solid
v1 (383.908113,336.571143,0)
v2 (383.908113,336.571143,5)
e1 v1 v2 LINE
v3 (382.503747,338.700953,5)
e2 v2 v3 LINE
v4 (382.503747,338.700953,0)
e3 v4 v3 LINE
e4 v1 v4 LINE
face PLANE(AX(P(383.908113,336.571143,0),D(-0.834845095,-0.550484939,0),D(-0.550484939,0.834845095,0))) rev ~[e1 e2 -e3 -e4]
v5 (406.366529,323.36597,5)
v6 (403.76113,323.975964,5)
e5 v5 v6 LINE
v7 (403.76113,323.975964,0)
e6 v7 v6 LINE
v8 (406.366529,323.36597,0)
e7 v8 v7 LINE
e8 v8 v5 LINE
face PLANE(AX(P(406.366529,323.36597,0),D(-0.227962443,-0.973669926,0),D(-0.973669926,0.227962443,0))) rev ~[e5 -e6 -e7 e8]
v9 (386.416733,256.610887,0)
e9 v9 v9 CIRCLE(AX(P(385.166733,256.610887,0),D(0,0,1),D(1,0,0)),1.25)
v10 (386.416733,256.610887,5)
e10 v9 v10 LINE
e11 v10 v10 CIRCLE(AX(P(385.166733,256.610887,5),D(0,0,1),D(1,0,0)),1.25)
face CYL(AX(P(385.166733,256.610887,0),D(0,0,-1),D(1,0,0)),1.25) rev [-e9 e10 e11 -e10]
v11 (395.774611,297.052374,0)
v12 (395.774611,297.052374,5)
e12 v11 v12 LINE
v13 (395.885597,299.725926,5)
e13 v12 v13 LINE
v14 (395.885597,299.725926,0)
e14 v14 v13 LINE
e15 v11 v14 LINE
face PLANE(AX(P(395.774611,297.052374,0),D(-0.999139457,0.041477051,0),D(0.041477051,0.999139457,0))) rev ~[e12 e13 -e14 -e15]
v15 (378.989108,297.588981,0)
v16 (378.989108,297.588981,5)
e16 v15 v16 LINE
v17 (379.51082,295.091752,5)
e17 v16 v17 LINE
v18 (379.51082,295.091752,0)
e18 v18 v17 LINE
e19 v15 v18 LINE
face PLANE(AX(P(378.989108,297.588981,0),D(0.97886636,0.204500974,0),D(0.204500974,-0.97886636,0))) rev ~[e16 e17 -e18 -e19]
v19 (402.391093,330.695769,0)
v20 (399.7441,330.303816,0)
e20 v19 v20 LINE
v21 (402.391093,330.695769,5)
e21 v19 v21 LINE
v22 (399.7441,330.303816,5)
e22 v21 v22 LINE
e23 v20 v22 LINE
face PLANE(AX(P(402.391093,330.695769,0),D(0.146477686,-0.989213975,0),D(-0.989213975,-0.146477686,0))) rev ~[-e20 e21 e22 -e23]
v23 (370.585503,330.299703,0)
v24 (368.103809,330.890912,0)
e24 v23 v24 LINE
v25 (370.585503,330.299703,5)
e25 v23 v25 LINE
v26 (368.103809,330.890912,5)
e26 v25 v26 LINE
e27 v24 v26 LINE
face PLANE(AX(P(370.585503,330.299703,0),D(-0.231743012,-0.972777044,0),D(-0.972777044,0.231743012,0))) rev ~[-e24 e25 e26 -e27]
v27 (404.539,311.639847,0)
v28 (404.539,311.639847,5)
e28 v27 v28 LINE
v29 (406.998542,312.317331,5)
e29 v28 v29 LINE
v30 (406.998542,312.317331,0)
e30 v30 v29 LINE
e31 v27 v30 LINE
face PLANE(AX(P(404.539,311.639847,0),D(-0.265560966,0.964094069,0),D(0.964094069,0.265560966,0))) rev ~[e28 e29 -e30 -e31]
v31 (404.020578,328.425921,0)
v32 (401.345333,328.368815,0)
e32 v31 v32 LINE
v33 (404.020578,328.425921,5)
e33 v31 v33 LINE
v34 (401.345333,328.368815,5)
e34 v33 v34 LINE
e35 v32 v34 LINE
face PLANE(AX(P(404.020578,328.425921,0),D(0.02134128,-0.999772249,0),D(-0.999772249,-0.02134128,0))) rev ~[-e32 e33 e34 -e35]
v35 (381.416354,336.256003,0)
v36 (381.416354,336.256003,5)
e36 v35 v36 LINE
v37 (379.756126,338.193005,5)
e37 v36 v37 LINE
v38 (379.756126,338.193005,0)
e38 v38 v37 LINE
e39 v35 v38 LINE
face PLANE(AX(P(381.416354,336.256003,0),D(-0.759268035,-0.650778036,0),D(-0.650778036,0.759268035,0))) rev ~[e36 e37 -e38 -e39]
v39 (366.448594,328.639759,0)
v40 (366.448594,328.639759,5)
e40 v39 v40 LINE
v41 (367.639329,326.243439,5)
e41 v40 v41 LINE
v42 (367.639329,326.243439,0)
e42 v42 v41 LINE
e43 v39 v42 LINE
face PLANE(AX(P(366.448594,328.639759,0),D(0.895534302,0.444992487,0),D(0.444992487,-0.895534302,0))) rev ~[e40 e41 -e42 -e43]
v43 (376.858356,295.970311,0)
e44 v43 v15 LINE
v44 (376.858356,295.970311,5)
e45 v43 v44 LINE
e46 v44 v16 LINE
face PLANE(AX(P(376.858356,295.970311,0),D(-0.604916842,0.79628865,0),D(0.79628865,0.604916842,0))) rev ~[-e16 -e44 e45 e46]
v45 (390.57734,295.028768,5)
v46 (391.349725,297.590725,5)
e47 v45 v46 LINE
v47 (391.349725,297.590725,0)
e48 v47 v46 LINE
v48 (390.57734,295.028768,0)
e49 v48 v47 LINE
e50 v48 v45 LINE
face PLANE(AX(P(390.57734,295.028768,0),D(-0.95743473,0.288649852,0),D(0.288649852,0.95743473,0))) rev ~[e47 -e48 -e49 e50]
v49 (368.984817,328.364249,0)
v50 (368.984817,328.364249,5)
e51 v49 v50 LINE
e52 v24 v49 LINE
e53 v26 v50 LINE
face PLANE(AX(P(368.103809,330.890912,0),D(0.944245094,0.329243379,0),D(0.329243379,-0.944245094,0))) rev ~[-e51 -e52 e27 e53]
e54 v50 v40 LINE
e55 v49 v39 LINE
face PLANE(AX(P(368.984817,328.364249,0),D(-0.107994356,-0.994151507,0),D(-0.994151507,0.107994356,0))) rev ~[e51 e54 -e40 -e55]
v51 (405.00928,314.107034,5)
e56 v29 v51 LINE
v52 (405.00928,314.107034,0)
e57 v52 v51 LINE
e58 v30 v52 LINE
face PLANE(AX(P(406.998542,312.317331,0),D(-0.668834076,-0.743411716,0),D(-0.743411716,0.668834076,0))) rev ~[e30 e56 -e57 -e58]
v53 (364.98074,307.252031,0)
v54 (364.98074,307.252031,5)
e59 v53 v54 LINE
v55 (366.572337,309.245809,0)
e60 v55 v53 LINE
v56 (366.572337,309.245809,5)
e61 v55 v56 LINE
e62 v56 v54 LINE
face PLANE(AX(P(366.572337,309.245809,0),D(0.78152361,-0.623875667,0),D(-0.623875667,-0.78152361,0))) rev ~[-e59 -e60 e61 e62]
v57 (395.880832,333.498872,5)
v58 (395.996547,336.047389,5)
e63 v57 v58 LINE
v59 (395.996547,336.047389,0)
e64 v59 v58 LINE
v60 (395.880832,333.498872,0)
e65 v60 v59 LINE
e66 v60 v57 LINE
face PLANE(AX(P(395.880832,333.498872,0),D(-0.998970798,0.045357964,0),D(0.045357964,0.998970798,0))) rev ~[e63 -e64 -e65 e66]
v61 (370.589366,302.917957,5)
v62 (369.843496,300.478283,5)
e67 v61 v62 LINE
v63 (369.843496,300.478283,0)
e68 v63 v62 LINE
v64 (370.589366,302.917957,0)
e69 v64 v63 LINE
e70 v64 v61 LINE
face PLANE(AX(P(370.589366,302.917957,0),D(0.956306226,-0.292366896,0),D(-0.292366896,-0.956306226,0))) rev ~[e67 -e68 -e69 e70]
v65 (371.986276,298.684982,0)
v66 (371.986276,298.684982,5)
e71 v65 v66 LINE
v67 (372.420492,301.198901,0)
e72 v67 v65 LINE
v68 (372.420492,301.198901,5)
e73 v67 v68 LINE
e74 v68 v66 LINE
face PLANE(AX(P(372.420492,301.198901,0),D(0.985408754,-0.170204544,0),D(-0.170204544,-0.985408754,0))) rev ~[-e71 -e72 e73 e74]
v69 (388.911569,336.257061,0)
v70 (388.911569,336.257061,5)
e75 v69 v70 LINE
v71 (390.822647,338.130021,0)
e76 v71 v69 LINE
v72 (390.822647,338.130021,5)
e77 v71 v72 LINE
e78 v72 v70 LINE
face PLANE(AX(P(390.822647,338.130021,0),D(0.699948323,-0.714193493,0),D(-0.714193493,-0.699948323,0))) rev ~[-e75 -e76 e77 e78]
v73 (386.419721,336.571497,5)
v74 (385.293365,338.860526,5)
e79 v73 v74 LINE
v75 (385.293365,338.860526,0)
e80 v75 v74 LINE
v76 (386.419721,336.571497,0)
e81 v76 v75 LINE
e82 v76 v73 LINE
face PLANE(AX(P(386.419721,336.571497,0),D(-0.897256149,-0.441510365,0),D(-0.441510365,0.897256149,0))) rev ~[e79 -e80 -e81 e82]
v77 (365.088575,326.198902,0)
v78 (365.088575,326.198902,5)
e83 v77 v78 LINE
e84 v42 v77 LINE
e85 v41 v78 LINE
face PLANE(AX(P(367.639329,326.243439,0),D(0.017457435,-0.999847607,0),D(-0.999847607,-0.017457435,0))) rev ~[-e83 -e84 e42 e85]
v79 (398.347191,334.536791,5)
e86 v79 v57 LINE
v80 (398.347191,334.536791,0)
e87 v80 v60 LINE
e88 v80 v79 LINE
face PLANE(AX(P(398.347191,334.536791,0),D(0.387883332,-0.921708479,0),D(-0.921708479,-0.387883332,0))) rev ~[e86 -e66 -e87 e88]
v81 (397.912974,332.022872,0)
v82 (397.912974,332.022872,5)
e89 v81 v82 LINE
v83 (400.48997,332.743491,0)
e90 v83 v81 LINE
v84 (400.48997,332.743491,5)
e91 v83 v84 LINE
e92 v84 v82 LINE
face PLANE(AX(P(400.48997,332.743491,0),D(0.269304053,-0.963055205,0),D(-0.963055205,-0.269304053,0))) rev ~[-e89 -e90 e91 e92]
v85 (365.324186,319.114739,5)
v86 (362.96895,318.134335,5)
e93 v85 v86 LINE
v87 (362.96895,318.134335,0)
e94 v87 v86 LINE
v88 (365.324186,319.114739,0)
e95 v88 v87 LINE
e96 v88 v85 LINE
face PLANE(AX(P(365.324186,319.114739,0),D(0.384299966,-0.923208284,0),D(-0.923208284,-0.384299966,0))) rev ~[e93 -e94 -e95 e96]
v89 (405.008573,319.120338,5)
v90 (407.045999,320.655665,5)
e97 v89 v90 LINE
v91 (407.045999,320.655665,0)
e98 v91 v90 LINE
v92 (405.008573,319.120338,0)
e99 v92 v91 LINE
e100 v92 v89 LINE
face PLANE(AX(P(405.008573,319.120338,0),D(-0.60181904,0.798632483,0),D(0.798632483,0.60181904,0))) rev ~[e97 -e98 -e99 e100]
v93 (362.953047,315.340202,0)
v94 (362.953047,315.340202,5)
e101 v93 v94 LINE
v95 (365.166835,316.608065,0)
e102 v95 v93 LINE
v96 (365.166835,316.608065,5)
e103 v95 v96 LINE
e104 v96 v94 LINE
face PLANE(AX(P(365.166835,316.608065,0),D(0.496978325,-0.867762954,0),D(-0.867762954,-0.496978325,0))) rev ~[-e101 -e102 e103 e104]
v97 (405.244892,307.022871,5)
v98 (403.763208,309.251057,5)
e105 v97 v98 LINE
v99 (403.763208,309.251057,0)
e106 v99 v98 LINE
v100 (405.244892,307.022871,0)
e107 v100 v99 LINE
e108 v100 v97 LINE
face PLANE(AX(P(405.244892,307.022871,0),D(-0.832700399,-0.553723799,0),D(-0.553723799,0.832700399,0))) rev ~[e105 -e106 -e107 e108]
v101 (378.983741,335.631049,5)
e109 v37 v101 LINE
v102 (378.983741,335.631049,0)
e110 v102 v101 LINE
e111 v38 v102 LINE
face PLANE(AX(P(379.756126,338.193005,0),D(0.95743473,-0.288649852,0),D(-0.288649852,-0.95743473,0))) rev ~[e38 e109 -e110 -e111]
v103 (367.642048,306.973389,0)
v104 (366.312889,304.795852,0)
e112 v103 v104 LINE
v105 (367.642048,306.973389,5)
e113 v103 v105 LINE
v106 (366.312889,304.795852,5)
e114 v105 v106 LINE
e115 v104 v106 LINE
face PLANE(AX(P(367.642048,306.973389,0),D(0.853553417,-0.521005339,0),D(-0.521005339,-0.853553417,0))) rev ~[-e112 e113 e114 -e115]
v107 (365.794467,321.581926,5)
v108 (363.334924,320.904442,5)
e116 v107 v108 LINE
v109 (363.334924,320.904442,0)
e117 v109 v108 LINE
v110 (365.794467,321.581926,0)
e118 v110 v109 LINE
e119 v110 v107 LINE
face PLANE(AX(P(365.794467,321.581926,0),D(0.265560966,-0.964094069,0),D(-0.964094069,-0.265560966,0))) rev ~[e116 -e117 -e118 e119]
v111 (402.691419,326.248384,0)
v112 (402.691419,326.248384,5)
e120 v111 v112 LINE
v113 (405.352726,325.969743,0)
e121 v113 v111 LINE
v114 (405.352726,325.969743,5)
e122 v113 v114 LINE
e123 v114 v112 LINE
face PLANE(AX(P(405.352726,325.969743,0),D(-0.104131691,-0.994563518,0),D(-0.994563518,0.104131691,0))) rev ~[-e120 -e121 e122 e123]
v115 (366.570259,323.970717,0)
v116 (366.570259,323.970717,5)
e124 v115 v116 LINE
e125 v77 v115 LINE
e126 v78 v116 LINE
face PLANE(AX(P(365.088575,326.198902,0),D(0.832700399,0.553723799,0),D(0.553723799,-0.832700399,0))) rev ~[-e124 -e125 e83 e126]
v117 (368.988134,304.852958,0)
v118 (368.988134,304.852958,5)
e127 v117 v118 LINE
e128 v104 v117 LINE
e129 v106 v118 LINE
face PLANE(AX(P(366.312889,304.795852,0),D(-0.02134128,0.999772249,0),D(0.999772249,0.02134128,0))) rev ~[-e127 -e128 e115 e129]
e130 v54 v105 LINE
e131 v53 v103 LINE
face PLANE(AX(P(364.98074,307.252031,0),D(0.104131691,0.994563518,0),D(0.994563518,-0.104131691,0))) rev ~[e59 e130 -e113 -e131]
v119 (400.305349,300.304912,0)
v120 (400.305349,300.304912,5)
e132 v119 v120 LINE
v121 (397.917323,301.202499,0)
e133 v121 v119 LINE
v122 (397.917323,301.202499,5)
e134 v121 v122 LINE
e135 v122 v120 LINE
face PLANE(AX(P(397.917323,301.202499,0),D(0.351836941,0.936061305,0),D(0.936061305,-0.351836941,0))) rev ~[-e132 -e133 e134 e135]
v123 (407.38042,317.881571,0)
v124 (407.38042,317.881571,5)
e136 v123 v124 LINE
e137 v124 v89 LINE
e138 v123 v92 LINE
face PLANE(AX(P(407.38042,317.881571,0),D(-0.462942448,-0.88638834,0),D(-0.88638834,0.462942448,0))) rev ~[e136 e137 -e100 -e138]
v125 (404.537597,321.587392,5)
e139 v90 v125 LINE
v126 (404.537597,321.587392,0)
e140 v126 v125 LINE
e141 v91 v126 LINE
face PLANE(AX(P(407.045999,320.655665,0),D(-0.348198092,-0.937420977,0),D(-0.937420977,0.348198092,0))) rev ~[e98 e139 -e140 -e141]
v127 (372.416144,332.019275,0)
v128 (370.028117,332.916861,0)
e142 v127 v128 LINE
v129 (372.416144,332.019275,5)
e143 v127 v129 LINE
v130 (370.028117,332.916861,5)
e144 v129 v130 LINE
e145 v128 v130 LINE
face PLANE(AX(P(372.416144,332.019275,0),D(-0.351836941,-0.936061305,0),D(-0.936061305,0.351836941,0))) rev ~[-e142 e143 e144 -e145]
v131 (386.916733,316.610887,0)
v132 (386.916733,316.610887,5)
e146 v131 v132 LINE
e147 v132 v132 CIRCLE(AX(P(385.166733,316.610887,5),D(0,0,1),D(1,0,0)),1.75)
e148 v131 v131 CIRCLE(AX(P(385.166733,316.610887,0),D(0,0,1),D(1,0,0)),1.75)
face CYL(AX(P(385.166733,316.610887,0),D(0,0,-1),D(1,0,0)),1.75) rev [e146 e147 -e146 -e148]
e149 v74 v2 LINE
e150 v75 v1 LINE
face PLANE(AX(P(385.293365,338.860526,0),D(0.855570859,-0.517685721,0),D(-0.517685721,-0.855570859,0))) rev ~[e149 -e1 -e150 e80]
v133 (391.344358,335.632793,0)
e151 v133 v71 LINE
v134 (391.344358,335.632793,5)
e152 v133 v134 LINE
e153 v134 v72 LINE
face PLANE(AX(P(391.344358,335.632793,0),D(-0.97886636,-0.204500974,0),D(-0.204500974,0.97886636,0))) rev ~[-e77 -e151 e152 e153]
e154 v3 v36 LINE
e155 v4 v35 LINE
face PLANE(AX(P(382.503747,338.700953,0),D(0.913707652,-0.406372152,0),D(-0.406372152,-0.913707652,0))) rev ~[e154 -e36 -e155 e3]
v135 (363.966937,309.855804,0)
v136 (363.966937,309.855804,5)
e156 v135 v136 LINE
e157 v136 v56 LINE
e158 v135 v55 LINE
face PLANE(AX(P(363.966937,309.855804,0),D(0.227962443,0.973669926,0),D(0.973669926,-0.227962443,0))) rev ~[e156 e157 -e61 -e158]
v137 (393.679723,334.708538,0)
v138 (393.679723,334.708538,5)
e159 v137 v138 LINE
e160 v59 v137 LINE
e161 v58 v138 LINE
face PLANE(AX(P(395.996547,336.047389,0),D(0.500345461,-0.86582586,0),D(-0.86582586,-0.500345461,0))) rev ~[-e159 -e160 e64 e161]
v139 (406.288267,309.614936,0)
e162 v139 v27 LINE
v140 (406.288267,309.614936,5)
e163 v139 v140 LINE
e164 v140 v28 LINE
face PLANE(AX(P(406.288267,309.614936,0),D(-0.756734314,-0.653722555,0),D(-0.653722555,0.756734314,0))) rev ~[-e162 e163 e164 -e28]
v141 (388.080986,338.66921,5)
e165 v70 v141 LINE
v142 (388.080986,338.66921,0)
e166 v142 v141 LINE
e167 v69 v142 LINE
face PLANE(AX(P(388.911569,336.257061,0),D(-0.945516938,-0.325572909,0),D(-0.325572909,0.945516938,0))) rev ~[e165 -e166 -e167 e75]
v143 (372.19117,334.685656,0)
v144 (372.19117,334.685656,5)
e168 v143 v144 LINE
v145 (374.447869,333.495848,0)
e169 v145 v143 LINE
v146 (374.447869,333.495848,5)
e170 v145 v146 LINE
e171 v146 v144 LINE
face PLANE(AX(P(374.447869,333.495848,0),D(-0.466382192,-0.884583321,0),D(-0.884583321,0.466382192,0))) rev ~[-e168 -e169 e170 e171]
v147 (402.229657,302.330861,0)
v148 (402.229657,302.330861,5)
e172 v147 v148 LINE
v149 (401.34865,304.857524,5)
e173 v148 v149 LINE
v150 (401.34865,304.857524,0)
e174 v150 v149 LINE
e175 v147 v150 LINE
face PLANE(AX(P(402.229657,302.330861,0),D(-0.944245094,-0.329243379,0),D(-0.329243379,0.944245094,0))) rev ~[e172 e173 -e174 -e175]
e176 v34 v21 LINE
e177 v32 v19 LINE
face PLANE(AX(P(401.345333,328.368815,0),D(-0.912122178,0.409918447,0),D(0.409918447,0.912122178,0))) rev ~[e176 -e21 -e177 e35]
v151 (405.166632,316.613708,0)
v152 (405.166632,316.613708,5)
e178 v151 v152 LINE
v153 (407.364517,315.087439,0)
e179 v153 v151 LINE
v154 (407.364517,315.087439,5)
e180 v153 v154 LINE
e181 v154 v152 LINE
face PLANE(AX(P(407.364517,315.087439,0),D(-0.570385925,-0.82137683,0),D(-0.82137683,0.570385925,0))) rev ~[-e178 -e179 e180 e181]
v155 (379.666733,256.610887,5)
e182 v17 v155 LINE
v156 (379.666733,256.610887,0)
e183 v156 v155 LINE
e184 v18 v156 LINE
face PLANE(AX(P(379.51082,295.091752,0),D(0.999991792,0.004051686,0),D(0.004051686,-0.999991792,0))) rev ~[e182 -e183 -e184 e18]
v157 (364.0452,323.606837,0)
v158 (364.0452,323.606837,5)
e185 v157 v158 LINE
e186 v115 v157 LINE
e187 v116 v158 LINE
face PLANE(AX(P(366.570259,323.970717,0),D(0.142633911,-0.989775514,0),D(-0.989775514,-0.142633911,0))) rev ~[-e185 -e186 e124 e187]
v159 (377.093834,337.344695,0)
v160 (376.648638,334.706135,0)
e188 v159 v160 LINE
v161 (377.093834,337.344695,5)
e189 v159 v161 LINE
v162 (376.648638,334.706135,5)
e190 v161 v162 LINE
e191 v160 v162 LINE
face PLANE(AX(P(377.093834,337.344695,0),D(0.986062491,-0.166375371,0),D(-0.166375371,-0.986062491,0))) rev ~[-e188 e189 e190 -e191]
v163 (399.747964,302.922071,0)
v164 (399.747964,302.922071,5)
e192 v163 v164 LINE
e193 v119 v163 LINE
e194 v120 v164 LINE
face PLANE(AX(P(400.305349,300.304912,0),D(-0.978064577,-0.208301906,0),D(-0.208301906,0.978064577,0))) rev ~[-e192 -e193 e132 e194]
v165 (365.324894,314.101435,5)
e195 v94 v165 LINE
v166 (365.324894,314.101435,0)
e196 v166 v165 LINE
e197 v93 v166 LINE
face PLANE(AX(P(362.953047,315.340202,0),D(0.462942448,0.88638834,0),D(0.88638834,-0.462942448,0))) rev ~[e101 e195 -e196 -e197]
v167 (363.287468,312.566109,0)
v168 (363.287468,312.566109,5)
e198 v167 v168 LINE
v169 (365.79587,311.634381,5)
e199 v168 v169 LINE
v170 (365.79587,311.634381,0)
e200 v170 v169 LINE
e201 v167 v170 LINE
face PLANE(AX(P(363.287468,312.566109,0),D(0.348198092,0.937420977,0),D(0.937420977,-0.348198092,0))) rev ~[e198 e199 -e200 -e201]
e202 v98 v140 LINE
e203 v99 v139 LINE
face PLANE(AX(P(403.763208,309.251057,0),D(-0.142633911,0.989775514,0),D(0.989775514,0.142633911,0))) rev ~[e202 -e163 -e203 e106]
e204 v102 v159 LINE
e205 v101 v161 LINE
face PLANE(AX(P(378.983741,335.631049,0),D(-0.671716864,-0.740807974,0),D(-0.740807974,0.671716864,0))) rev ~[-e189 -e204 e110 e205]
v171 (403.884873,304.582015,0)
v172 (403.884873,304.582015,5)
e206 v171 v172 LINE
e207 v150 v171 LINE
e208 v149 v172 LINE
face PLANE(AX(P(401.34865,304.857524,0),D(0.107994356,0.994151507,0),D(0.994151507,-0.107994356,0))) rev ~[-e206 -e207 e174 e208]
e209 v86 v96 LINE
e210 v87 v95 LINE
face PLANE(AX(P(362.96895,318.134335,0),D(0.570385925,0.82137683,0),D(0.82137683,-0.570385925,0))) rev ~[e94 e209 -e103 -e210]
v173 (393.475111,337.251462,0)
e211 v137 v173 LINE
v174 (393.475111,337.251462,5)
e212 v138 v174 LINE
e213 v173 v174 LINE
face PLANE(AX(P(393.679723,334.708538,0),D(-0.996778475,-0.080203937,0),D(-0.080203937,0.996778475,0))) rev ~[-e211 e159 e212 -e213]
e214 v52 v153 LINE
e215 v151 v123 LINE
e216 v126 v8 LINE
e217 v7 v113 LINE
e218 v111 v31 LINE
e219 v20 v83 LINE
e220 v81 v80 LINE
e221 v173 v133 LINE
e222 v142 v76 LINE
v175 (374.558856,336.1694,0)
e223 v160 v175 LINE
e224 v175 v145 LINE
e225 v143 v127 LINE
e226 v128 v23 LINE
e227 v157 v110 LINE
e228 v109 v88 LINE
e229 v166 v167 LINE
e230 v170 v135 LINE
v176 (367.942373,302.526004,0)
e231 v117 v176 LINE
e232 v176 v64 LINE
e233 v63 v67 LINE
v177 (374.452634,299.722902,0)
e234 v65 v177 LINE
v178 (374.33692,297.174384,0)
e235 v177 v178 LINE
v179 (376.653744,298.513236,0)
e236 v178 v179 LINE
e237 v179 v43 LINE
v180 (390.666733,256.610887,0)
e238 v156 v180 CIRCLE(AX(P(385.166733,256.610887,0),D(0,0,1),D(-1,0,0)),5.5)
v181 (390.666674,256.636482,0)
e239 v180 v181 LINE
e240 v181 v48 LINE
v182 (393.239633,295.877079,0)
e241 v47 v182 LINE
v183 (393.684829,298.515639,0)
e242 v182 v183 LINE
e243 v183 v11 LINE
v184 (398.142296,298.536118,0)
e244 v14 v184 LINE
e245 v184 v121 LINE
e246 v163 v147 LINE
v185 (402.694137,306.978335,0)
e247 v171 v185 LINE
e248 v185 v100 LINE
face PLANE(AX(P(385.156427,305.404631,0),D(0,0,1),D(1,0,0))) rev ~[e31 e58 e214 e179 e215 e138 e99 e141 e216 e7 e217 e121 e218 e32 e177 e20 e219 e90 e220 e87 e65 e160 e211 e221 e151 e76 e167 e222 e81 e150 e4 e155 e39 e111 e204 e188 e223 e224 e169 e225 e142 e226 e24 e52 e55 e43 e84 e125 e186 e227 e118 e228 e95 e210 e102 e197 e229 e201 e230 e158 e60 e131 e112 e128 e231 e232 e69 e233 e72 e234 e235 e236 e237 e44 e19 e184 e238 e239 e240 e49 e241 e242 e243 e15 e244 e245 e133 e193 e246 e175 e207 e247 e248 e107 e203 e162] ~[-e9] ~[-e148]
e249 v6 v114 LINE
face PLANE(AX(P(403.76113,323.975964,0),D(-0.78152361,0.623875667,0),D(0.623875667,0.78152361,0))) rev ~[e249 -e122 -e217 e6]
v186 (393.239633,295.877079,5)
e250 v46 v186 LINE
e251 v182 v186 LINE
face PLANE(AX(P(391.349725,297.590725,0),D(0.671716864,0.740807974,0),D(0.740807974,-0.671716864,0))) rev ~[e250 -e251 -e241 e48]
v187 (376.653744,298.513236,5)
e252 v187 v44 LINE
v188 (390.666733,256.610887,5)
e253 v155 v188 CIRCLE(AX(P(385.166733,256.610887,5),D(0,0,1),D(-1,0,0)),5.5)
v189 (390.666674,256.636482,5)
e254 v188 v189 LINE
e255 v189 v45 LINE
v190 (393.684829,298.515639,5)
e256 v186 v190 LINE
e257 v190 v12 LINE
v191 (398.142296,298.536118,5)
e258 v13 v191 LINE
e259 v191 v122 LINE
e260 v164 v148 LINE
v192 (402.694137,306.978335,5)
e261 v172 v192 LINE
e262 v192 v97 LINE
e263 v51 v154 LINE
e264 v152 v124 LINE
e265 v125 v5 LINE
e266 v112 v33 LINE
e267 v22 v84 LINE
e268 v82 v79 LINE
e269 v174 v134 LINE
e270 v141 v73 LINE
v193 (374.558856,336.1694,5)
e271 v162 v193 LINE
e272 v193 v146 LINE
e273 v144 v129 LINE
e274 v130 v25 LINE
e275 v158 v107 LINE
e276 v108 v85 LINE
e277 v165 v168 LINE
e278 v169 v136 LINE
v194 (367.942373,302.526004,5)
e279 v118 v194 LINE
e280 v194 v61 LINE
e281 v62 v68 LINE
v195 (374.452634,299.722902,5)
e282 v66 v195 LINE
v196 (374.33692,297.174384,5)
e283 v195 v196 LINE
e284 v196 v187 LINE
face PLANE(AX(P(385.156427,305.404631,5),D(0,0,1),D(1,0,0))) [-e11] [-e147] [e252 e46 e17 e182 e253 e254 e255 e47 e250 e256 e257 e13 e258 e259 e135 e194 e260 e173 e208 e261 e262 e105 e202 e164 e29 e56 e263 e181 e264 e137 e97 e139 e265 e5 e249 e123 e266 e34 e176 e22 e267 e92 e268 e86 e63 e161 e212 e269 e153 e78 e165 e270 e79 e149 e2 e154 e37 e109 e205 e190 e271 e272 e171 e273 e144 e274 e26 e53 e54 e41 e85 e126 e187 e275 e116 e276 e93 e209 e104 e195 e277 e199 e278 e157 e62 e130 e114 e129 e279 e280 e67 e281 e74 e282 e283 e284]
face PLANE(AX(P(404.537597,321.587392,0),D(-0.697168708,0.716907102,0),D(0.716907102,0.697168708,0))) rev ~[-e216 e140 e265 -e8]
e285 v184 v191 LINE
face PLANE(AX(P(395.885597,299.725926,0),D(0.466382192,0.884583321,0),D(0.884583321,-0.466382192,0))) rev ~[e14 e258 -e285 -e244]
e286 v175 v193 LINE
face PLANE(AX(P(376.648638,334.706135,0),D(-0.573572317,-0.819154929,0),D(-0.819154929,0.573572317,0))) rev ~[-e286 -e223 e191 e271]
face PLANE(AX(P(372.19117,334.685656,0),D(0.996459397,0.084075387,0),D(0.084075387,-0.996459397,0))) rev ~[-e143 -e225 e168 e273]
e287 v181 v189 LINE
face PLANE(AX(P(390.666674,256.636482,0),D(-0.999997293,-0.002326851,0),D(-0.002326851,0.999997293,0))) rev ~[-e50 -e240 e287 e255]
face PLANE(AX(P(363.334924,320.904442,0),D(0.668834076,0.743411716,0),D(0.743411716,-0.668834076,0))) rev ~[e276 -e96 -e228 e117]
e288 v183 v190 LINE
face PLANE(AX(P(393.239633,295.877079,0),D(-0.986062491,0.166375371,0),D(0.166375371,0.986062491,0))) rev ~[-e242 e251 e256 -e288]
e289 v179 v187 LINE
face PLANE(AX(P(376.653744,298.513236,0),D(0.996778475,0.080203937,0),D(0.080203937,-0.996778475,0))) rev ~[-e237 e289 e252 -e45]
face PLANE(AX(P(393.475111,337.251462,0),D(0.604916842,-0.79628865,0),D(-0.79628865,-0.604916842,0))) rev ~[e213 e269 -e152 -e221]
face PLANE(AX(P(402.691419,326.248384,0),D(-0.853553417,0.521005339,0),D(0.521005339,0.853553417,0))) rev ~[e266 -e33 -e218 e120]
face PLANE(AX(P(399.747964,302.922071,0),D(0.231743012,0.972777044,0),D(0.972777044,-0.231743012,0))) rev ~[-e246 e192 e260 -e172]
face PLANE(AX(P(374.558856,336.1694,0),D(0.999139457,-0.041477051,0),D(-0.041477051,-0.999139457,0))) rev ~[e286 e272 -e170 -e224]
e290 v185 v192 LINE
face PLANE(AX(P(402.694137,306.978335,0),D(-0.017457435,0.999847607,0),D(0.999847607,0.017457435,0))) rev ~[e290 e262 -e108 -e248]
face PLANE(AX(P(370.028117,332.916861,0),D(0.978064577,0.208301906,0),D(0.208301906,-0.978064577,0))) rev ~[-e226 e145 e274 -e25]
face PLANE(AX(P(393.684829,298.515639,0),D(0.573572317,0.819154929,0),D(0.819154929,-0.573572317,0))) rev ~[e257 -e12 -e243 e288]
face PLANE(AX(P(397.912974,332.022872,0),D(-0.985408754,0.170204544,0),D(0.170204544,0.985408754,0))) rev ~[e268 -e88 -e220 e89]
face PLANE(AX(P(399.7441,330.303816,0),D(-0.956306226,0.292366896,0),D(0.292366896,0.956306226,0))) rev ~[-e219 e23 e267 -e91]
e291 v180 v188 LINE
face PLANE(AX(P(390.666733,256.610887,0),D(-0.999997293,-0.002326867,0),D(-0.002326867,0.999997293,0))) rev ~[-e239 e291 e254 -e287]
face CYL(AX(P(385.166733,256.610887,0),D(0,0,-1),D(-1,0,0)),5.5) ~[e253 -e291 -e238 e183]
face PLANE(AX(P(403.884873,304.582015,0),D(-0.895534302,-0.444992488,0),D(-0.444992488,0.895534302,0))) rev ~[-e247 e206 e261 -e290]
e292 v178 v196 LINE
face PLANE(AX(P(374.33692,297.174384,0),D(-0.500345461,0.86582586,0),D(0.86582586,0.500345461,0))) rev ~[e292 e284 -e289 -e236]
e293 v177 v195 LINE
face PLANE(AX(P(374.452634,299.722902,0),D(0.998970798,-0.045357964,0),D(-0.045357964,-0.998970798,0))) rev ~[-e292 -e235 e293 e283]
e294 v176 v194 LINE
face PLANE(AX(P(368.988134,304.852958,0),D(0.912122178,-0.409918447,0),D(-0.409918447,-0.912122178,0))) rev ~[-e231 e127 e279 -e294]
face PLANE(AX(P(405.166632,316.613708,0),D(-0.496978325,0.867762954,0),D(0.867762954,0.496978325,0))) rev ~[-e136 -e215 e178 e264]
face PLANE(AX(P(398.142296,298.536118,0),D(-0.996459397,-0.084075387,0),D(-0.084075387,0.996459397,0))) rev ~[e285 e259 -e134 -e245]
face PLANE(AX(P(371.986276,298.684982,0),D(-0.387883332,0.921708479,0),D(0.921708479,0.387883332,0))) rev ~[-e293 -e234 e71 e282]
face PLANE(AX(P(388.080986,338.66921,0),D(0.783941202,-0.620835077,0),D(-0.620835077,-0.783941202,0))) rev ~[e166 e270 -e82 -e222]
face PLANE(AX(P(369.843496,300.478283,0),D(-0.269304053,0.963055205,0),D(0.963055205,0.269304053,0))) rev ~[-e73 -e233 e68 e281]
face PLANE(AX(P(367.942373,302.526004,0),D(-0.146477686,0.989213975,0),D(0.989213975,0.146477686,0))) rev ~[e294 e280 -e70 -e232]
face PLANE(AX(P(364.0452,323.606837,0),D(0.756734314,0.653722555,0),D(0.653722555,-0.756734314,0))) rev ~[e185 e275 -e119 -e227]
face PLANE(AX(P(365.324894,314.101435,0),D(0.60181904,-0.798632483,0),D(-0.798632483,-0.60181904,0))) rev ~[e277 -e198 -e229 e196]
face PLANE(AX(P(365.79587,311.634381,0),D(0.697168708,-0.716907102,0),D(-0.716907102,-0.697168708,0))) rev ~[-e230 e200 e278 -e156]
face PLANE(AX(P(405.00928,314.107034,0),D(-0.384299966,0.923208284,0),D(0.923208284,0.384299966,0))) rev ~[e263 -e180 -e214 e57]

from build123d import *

# Parameters (mm, degrees)
SKETCH1_R           = 1.25
SKETCH1_R_2         = 1.75
BOSS_EXTRUDE2_DEPTH = 5


with BuildPart() as part:
    # Sketch1 → Boss-Extrude2 (new body)
    with BuildSketch(Plane.XY):
        with BuildLine():
            Line((386.419721239, 336.571497364), (385.293365012, 338.860526411))
            Line((385.293365012, 338.860526411), (383.908113185, 336.571143013))
            Line((383.908113185, 336.571143013), (382.503747201, 338.700952515))
            Line((382.503747201, 338.700952515), (381.416354322, 336.256003497))
            Line((381.416354322, 336.256003497), (379.756126272, 338.193005085))
            Line((379.756126272, 338.193005085), (378.983741177, 335.631048754))
            Line((378.983741177, 335.631048754), (377.093833849, 337.344694757))
            Line((377.093833849, 337.344694757), (376.648637512, 334.706134696))
            Line((376.648637512, 334.706134696), (374.558855873, 336.169399891))
            Line((374.558855873, 336.169399891), (374.447869306, 333.495847767))
            Line((374.447869306, 333.495847767), (372.191170461, 334.685655589))
            Line((372.191170461, 334.685655589), (372.41614399, 332.019274917))
            Line((372.41614399, 332.019274917), (370.028117427, 332.916861386))
            Line((370.028117427, 332.916861386), (370.585503084, 330.299702582))
            Line((370.585503084, 330.299702582), (368.10380941, 330.890912222))
            Line((368.10380941, 330.890912222), (368.98481689, 328.364249444))
            Line((368.98481689, 328.364249444), (366.448593896, 328.639758526))
            Line((366.448593896, 328.639758526), (367.639329184, 326.243438755))
            Line((367.639329184, 326.243438755), (365.088574622, 326.198902337))
            Line((365.088574622, 326.198902337), (366.570259113, 323.970716967))
            Line((366.570259113, 323.970716967), (364.045199905, 323.606837414))
            Line((364.045199905, 323.606837414), (365.794466549, 321.58192626))
            Line((365.794466549, 321.58192626), (363.334924388, 320.904442171))
            Line((363.334924388, 320.904442171), (365.324186205, 319.114739291))
            Line((365.324186205, 319.114739291), (362.96894954, 318.134334994))
            Line((362.96894954, 318.134334994), (365.166834682, 316.608065071))
            Line((365.166834682, 316.608065071), (362.953047003, 315.340202129))
            Line((362.953047003, 315.340202129), (365.324893508, 314.101435352))
            Line((365.324893508, 314.101435352), (363.287467569, 312.566108719))
            Line((363.287467569, 312.566108719), (365.795870002, 311.63438118))
            Line((365.795870002, 311.63438118), (363.966937226, 309.855803875))
            Line((363.966937226, 309.855803875), (366.572336582, 309.245809474))
            Line((366.572336582, 309.245809474), (364.980740332, 307.252030724))
            Line((364.980740332, 307.252030724), (367.642047906, 306.973389437))
            Line((367.642047906, 306.973389437), (366.312888606, 304.795852323))
            Line((366.312888606, 304.795852323), (368.988133989, 304.85295849))
            Line((368.988133989, 304.85295849), (367.942373274, 302.526004073))
            Line((367.942373274, 302.526004073), (370.589366248, 302.917957095))
            Line((370.589366248, 302.917957095), (369.84349639, 300.478282837))
            Line((369.84349639, 300.478282837), (372.420492294, 301.198901382))
            Line((372.420492294, 301.198901382), (371.986276106, 298.684982403))
            Line((371.986276106, 298.684982403), (374.452634175, 299.722901884))
            Line((374.452634175, 299.722901884), (374.336919507, 297.174384188))
            Line((374.336919507, 297.174384188), (376.653743801, 298.513235996))
            Line((376.653743801, 298.513235996), (376.85835554, 295.97031123))
            Line((376.85835554, 295.97031123), (378.989108357, 297.588980872))
            Line((378.989108357, 297.588980872), (379.510819655, 295.091752478))
            Line((379.510819655, 295.091752478), (379.666733337, 256.610886765))
            ThreePointArc((379.666733337, 256.610886765), (385.166733337, 251.110886765), (390.666733337, 256.610886765))
            Line((390.666733337, 256.610886765), (390.66667378, 256.636482058))
            Line((390.66667378, 256.636482058), (390.577340402, 295.028768444))
            Line((390.577340402, 295.028768444), (391.349725497, 297.590724775))
            Line((391.349725497, 297.590724775), (393.239632825, 295.877078772))
            Line((393.239632825, 295.877078772), (393.684829162, 298.515638833))
            Line((393.684829162, 298.515638833), (395.774610801, 297.052373638))
            Line((395.774610801, 297.052373638), (395.885597368, 299.725925762))
            Line((395.885597368, 299.725925762), (398.142296213, 298.53611794))
            Line((398.142296213, 298.53611794), (397.917322684, 301.202498612))
            Line((397.917322684, 301.202498612), (400.305349247, 300.304912143))
            Line((400.305349247, 300.304912143), (399.74796359, 302.922070947))
            Line((399.74796359, 302.922070947), (402.229657264, 302.330861307))
            Line((402.229657264, 302.330861307), (401.348649784, 304.857524085))
            Line((401.348649784, 304.857524085), (403.884872779, 304.582015003))
            Line((403.884872779, 304.582015003), (402.69413749, 306.978334774))
            Line((402.69413749, 306.978334774), (405.244892052, 307.022871192))
            Line((405.244892052, 307.022871192), (403.763207561, 309.251056562))
            Line((403.763207561, 309.251056562), (406.288266769, 309.614936115))
            Line((406.288266769, 309.614936115), (404.539000125, 311.639847269))
            Line((404.539000125, 311.639847269), (406.998542286, 312.317331358))
            Line((406.998542286, 312.317331358), (405.009280469, 314.107034238))
            Line((405.009280469, 314.107034238), (407.364517134, 315.087438535))
            Line((407.364517134, 315.087438535), (405.166631992, 316.613708458))
            Line((405.166631992, 316.613708458), (407.380419671, 317.8815714))
            Line((407.380419671, 317.8815714), (405.008573166, 319.120338177))
            Line((405.008573166, 319.120338177), (407.045999105, 320.65566481))
            Line((407.045999105, 320.65566481), (404.537596672, 321.587392349))
            Line((404.537596672, 321.587392349), (406.366529448, 323.365969654))
            Line((406.366529448, 323.365969654), (403.761130092, 323.975964055))
            Line((403.761130092, 323.975964055), (405.352726342, 325.969742805))
            Line((405.352726342, 325.969742805), (402.691418768, 326.248384092))
            Line((402.691418768, 326.248384092), (404.020578068, 328.425921206))
            Line((404.020578068, 328.425921206), (401.345332685, 328.368815039))
            Line((401.345332685, 328.368815039), (402.3910934, 330.695769456))
            Line((402.3910934, 330.695769456), (399.744100426, 330.303816434))
            Line((399.744100426, 330.303816434), (400.489970284, 332.743490692))
            Line((400.489970284, 332.743490692), (397.91297438, 332.022872147))
            Line((397.91297438, 332.022872147), (398.347190568, 334.536791126))
            Line((398.347190568, 334.536791126), (395.880832499, 333.498871645))
            Line((395.880832499, 333.498871645), (395.996547167, 336.047389341))
            Line((395.996547167, 336.047389341), (393.679722873, 334.708537533))
            Line((393.679722873, 334.708537533), (393.475111134, 337.251462299))
            Line((393.475111134, 337.251462299), (391.344358317, 335.632792657))
            Line((391.344358317, 335.632792657), (390.822647019, 338.130021051))
            Line((390.822647019, 338.130021051), (388.911568925, 336.257060962))
            Line((388.911568925, 336.257060962), (388.080985766, 338.6692102))
            Line((388.080985766, 338.6692102), (386.419721239, 336.571497364))
        make_face()
        with Locations((385.166733337, 256.610886765)):
            Circle(SKETCH1_R, mode=Mode.SUBTRACT)
        with Locations((385.166733337, 316.610886765)):
            Circle(SKETCH1_R_2, mode=Mode.SUBTRACT)
    extrude(amount=BOSS_EXTRUDE2_DEPTH)


solid = part.part
